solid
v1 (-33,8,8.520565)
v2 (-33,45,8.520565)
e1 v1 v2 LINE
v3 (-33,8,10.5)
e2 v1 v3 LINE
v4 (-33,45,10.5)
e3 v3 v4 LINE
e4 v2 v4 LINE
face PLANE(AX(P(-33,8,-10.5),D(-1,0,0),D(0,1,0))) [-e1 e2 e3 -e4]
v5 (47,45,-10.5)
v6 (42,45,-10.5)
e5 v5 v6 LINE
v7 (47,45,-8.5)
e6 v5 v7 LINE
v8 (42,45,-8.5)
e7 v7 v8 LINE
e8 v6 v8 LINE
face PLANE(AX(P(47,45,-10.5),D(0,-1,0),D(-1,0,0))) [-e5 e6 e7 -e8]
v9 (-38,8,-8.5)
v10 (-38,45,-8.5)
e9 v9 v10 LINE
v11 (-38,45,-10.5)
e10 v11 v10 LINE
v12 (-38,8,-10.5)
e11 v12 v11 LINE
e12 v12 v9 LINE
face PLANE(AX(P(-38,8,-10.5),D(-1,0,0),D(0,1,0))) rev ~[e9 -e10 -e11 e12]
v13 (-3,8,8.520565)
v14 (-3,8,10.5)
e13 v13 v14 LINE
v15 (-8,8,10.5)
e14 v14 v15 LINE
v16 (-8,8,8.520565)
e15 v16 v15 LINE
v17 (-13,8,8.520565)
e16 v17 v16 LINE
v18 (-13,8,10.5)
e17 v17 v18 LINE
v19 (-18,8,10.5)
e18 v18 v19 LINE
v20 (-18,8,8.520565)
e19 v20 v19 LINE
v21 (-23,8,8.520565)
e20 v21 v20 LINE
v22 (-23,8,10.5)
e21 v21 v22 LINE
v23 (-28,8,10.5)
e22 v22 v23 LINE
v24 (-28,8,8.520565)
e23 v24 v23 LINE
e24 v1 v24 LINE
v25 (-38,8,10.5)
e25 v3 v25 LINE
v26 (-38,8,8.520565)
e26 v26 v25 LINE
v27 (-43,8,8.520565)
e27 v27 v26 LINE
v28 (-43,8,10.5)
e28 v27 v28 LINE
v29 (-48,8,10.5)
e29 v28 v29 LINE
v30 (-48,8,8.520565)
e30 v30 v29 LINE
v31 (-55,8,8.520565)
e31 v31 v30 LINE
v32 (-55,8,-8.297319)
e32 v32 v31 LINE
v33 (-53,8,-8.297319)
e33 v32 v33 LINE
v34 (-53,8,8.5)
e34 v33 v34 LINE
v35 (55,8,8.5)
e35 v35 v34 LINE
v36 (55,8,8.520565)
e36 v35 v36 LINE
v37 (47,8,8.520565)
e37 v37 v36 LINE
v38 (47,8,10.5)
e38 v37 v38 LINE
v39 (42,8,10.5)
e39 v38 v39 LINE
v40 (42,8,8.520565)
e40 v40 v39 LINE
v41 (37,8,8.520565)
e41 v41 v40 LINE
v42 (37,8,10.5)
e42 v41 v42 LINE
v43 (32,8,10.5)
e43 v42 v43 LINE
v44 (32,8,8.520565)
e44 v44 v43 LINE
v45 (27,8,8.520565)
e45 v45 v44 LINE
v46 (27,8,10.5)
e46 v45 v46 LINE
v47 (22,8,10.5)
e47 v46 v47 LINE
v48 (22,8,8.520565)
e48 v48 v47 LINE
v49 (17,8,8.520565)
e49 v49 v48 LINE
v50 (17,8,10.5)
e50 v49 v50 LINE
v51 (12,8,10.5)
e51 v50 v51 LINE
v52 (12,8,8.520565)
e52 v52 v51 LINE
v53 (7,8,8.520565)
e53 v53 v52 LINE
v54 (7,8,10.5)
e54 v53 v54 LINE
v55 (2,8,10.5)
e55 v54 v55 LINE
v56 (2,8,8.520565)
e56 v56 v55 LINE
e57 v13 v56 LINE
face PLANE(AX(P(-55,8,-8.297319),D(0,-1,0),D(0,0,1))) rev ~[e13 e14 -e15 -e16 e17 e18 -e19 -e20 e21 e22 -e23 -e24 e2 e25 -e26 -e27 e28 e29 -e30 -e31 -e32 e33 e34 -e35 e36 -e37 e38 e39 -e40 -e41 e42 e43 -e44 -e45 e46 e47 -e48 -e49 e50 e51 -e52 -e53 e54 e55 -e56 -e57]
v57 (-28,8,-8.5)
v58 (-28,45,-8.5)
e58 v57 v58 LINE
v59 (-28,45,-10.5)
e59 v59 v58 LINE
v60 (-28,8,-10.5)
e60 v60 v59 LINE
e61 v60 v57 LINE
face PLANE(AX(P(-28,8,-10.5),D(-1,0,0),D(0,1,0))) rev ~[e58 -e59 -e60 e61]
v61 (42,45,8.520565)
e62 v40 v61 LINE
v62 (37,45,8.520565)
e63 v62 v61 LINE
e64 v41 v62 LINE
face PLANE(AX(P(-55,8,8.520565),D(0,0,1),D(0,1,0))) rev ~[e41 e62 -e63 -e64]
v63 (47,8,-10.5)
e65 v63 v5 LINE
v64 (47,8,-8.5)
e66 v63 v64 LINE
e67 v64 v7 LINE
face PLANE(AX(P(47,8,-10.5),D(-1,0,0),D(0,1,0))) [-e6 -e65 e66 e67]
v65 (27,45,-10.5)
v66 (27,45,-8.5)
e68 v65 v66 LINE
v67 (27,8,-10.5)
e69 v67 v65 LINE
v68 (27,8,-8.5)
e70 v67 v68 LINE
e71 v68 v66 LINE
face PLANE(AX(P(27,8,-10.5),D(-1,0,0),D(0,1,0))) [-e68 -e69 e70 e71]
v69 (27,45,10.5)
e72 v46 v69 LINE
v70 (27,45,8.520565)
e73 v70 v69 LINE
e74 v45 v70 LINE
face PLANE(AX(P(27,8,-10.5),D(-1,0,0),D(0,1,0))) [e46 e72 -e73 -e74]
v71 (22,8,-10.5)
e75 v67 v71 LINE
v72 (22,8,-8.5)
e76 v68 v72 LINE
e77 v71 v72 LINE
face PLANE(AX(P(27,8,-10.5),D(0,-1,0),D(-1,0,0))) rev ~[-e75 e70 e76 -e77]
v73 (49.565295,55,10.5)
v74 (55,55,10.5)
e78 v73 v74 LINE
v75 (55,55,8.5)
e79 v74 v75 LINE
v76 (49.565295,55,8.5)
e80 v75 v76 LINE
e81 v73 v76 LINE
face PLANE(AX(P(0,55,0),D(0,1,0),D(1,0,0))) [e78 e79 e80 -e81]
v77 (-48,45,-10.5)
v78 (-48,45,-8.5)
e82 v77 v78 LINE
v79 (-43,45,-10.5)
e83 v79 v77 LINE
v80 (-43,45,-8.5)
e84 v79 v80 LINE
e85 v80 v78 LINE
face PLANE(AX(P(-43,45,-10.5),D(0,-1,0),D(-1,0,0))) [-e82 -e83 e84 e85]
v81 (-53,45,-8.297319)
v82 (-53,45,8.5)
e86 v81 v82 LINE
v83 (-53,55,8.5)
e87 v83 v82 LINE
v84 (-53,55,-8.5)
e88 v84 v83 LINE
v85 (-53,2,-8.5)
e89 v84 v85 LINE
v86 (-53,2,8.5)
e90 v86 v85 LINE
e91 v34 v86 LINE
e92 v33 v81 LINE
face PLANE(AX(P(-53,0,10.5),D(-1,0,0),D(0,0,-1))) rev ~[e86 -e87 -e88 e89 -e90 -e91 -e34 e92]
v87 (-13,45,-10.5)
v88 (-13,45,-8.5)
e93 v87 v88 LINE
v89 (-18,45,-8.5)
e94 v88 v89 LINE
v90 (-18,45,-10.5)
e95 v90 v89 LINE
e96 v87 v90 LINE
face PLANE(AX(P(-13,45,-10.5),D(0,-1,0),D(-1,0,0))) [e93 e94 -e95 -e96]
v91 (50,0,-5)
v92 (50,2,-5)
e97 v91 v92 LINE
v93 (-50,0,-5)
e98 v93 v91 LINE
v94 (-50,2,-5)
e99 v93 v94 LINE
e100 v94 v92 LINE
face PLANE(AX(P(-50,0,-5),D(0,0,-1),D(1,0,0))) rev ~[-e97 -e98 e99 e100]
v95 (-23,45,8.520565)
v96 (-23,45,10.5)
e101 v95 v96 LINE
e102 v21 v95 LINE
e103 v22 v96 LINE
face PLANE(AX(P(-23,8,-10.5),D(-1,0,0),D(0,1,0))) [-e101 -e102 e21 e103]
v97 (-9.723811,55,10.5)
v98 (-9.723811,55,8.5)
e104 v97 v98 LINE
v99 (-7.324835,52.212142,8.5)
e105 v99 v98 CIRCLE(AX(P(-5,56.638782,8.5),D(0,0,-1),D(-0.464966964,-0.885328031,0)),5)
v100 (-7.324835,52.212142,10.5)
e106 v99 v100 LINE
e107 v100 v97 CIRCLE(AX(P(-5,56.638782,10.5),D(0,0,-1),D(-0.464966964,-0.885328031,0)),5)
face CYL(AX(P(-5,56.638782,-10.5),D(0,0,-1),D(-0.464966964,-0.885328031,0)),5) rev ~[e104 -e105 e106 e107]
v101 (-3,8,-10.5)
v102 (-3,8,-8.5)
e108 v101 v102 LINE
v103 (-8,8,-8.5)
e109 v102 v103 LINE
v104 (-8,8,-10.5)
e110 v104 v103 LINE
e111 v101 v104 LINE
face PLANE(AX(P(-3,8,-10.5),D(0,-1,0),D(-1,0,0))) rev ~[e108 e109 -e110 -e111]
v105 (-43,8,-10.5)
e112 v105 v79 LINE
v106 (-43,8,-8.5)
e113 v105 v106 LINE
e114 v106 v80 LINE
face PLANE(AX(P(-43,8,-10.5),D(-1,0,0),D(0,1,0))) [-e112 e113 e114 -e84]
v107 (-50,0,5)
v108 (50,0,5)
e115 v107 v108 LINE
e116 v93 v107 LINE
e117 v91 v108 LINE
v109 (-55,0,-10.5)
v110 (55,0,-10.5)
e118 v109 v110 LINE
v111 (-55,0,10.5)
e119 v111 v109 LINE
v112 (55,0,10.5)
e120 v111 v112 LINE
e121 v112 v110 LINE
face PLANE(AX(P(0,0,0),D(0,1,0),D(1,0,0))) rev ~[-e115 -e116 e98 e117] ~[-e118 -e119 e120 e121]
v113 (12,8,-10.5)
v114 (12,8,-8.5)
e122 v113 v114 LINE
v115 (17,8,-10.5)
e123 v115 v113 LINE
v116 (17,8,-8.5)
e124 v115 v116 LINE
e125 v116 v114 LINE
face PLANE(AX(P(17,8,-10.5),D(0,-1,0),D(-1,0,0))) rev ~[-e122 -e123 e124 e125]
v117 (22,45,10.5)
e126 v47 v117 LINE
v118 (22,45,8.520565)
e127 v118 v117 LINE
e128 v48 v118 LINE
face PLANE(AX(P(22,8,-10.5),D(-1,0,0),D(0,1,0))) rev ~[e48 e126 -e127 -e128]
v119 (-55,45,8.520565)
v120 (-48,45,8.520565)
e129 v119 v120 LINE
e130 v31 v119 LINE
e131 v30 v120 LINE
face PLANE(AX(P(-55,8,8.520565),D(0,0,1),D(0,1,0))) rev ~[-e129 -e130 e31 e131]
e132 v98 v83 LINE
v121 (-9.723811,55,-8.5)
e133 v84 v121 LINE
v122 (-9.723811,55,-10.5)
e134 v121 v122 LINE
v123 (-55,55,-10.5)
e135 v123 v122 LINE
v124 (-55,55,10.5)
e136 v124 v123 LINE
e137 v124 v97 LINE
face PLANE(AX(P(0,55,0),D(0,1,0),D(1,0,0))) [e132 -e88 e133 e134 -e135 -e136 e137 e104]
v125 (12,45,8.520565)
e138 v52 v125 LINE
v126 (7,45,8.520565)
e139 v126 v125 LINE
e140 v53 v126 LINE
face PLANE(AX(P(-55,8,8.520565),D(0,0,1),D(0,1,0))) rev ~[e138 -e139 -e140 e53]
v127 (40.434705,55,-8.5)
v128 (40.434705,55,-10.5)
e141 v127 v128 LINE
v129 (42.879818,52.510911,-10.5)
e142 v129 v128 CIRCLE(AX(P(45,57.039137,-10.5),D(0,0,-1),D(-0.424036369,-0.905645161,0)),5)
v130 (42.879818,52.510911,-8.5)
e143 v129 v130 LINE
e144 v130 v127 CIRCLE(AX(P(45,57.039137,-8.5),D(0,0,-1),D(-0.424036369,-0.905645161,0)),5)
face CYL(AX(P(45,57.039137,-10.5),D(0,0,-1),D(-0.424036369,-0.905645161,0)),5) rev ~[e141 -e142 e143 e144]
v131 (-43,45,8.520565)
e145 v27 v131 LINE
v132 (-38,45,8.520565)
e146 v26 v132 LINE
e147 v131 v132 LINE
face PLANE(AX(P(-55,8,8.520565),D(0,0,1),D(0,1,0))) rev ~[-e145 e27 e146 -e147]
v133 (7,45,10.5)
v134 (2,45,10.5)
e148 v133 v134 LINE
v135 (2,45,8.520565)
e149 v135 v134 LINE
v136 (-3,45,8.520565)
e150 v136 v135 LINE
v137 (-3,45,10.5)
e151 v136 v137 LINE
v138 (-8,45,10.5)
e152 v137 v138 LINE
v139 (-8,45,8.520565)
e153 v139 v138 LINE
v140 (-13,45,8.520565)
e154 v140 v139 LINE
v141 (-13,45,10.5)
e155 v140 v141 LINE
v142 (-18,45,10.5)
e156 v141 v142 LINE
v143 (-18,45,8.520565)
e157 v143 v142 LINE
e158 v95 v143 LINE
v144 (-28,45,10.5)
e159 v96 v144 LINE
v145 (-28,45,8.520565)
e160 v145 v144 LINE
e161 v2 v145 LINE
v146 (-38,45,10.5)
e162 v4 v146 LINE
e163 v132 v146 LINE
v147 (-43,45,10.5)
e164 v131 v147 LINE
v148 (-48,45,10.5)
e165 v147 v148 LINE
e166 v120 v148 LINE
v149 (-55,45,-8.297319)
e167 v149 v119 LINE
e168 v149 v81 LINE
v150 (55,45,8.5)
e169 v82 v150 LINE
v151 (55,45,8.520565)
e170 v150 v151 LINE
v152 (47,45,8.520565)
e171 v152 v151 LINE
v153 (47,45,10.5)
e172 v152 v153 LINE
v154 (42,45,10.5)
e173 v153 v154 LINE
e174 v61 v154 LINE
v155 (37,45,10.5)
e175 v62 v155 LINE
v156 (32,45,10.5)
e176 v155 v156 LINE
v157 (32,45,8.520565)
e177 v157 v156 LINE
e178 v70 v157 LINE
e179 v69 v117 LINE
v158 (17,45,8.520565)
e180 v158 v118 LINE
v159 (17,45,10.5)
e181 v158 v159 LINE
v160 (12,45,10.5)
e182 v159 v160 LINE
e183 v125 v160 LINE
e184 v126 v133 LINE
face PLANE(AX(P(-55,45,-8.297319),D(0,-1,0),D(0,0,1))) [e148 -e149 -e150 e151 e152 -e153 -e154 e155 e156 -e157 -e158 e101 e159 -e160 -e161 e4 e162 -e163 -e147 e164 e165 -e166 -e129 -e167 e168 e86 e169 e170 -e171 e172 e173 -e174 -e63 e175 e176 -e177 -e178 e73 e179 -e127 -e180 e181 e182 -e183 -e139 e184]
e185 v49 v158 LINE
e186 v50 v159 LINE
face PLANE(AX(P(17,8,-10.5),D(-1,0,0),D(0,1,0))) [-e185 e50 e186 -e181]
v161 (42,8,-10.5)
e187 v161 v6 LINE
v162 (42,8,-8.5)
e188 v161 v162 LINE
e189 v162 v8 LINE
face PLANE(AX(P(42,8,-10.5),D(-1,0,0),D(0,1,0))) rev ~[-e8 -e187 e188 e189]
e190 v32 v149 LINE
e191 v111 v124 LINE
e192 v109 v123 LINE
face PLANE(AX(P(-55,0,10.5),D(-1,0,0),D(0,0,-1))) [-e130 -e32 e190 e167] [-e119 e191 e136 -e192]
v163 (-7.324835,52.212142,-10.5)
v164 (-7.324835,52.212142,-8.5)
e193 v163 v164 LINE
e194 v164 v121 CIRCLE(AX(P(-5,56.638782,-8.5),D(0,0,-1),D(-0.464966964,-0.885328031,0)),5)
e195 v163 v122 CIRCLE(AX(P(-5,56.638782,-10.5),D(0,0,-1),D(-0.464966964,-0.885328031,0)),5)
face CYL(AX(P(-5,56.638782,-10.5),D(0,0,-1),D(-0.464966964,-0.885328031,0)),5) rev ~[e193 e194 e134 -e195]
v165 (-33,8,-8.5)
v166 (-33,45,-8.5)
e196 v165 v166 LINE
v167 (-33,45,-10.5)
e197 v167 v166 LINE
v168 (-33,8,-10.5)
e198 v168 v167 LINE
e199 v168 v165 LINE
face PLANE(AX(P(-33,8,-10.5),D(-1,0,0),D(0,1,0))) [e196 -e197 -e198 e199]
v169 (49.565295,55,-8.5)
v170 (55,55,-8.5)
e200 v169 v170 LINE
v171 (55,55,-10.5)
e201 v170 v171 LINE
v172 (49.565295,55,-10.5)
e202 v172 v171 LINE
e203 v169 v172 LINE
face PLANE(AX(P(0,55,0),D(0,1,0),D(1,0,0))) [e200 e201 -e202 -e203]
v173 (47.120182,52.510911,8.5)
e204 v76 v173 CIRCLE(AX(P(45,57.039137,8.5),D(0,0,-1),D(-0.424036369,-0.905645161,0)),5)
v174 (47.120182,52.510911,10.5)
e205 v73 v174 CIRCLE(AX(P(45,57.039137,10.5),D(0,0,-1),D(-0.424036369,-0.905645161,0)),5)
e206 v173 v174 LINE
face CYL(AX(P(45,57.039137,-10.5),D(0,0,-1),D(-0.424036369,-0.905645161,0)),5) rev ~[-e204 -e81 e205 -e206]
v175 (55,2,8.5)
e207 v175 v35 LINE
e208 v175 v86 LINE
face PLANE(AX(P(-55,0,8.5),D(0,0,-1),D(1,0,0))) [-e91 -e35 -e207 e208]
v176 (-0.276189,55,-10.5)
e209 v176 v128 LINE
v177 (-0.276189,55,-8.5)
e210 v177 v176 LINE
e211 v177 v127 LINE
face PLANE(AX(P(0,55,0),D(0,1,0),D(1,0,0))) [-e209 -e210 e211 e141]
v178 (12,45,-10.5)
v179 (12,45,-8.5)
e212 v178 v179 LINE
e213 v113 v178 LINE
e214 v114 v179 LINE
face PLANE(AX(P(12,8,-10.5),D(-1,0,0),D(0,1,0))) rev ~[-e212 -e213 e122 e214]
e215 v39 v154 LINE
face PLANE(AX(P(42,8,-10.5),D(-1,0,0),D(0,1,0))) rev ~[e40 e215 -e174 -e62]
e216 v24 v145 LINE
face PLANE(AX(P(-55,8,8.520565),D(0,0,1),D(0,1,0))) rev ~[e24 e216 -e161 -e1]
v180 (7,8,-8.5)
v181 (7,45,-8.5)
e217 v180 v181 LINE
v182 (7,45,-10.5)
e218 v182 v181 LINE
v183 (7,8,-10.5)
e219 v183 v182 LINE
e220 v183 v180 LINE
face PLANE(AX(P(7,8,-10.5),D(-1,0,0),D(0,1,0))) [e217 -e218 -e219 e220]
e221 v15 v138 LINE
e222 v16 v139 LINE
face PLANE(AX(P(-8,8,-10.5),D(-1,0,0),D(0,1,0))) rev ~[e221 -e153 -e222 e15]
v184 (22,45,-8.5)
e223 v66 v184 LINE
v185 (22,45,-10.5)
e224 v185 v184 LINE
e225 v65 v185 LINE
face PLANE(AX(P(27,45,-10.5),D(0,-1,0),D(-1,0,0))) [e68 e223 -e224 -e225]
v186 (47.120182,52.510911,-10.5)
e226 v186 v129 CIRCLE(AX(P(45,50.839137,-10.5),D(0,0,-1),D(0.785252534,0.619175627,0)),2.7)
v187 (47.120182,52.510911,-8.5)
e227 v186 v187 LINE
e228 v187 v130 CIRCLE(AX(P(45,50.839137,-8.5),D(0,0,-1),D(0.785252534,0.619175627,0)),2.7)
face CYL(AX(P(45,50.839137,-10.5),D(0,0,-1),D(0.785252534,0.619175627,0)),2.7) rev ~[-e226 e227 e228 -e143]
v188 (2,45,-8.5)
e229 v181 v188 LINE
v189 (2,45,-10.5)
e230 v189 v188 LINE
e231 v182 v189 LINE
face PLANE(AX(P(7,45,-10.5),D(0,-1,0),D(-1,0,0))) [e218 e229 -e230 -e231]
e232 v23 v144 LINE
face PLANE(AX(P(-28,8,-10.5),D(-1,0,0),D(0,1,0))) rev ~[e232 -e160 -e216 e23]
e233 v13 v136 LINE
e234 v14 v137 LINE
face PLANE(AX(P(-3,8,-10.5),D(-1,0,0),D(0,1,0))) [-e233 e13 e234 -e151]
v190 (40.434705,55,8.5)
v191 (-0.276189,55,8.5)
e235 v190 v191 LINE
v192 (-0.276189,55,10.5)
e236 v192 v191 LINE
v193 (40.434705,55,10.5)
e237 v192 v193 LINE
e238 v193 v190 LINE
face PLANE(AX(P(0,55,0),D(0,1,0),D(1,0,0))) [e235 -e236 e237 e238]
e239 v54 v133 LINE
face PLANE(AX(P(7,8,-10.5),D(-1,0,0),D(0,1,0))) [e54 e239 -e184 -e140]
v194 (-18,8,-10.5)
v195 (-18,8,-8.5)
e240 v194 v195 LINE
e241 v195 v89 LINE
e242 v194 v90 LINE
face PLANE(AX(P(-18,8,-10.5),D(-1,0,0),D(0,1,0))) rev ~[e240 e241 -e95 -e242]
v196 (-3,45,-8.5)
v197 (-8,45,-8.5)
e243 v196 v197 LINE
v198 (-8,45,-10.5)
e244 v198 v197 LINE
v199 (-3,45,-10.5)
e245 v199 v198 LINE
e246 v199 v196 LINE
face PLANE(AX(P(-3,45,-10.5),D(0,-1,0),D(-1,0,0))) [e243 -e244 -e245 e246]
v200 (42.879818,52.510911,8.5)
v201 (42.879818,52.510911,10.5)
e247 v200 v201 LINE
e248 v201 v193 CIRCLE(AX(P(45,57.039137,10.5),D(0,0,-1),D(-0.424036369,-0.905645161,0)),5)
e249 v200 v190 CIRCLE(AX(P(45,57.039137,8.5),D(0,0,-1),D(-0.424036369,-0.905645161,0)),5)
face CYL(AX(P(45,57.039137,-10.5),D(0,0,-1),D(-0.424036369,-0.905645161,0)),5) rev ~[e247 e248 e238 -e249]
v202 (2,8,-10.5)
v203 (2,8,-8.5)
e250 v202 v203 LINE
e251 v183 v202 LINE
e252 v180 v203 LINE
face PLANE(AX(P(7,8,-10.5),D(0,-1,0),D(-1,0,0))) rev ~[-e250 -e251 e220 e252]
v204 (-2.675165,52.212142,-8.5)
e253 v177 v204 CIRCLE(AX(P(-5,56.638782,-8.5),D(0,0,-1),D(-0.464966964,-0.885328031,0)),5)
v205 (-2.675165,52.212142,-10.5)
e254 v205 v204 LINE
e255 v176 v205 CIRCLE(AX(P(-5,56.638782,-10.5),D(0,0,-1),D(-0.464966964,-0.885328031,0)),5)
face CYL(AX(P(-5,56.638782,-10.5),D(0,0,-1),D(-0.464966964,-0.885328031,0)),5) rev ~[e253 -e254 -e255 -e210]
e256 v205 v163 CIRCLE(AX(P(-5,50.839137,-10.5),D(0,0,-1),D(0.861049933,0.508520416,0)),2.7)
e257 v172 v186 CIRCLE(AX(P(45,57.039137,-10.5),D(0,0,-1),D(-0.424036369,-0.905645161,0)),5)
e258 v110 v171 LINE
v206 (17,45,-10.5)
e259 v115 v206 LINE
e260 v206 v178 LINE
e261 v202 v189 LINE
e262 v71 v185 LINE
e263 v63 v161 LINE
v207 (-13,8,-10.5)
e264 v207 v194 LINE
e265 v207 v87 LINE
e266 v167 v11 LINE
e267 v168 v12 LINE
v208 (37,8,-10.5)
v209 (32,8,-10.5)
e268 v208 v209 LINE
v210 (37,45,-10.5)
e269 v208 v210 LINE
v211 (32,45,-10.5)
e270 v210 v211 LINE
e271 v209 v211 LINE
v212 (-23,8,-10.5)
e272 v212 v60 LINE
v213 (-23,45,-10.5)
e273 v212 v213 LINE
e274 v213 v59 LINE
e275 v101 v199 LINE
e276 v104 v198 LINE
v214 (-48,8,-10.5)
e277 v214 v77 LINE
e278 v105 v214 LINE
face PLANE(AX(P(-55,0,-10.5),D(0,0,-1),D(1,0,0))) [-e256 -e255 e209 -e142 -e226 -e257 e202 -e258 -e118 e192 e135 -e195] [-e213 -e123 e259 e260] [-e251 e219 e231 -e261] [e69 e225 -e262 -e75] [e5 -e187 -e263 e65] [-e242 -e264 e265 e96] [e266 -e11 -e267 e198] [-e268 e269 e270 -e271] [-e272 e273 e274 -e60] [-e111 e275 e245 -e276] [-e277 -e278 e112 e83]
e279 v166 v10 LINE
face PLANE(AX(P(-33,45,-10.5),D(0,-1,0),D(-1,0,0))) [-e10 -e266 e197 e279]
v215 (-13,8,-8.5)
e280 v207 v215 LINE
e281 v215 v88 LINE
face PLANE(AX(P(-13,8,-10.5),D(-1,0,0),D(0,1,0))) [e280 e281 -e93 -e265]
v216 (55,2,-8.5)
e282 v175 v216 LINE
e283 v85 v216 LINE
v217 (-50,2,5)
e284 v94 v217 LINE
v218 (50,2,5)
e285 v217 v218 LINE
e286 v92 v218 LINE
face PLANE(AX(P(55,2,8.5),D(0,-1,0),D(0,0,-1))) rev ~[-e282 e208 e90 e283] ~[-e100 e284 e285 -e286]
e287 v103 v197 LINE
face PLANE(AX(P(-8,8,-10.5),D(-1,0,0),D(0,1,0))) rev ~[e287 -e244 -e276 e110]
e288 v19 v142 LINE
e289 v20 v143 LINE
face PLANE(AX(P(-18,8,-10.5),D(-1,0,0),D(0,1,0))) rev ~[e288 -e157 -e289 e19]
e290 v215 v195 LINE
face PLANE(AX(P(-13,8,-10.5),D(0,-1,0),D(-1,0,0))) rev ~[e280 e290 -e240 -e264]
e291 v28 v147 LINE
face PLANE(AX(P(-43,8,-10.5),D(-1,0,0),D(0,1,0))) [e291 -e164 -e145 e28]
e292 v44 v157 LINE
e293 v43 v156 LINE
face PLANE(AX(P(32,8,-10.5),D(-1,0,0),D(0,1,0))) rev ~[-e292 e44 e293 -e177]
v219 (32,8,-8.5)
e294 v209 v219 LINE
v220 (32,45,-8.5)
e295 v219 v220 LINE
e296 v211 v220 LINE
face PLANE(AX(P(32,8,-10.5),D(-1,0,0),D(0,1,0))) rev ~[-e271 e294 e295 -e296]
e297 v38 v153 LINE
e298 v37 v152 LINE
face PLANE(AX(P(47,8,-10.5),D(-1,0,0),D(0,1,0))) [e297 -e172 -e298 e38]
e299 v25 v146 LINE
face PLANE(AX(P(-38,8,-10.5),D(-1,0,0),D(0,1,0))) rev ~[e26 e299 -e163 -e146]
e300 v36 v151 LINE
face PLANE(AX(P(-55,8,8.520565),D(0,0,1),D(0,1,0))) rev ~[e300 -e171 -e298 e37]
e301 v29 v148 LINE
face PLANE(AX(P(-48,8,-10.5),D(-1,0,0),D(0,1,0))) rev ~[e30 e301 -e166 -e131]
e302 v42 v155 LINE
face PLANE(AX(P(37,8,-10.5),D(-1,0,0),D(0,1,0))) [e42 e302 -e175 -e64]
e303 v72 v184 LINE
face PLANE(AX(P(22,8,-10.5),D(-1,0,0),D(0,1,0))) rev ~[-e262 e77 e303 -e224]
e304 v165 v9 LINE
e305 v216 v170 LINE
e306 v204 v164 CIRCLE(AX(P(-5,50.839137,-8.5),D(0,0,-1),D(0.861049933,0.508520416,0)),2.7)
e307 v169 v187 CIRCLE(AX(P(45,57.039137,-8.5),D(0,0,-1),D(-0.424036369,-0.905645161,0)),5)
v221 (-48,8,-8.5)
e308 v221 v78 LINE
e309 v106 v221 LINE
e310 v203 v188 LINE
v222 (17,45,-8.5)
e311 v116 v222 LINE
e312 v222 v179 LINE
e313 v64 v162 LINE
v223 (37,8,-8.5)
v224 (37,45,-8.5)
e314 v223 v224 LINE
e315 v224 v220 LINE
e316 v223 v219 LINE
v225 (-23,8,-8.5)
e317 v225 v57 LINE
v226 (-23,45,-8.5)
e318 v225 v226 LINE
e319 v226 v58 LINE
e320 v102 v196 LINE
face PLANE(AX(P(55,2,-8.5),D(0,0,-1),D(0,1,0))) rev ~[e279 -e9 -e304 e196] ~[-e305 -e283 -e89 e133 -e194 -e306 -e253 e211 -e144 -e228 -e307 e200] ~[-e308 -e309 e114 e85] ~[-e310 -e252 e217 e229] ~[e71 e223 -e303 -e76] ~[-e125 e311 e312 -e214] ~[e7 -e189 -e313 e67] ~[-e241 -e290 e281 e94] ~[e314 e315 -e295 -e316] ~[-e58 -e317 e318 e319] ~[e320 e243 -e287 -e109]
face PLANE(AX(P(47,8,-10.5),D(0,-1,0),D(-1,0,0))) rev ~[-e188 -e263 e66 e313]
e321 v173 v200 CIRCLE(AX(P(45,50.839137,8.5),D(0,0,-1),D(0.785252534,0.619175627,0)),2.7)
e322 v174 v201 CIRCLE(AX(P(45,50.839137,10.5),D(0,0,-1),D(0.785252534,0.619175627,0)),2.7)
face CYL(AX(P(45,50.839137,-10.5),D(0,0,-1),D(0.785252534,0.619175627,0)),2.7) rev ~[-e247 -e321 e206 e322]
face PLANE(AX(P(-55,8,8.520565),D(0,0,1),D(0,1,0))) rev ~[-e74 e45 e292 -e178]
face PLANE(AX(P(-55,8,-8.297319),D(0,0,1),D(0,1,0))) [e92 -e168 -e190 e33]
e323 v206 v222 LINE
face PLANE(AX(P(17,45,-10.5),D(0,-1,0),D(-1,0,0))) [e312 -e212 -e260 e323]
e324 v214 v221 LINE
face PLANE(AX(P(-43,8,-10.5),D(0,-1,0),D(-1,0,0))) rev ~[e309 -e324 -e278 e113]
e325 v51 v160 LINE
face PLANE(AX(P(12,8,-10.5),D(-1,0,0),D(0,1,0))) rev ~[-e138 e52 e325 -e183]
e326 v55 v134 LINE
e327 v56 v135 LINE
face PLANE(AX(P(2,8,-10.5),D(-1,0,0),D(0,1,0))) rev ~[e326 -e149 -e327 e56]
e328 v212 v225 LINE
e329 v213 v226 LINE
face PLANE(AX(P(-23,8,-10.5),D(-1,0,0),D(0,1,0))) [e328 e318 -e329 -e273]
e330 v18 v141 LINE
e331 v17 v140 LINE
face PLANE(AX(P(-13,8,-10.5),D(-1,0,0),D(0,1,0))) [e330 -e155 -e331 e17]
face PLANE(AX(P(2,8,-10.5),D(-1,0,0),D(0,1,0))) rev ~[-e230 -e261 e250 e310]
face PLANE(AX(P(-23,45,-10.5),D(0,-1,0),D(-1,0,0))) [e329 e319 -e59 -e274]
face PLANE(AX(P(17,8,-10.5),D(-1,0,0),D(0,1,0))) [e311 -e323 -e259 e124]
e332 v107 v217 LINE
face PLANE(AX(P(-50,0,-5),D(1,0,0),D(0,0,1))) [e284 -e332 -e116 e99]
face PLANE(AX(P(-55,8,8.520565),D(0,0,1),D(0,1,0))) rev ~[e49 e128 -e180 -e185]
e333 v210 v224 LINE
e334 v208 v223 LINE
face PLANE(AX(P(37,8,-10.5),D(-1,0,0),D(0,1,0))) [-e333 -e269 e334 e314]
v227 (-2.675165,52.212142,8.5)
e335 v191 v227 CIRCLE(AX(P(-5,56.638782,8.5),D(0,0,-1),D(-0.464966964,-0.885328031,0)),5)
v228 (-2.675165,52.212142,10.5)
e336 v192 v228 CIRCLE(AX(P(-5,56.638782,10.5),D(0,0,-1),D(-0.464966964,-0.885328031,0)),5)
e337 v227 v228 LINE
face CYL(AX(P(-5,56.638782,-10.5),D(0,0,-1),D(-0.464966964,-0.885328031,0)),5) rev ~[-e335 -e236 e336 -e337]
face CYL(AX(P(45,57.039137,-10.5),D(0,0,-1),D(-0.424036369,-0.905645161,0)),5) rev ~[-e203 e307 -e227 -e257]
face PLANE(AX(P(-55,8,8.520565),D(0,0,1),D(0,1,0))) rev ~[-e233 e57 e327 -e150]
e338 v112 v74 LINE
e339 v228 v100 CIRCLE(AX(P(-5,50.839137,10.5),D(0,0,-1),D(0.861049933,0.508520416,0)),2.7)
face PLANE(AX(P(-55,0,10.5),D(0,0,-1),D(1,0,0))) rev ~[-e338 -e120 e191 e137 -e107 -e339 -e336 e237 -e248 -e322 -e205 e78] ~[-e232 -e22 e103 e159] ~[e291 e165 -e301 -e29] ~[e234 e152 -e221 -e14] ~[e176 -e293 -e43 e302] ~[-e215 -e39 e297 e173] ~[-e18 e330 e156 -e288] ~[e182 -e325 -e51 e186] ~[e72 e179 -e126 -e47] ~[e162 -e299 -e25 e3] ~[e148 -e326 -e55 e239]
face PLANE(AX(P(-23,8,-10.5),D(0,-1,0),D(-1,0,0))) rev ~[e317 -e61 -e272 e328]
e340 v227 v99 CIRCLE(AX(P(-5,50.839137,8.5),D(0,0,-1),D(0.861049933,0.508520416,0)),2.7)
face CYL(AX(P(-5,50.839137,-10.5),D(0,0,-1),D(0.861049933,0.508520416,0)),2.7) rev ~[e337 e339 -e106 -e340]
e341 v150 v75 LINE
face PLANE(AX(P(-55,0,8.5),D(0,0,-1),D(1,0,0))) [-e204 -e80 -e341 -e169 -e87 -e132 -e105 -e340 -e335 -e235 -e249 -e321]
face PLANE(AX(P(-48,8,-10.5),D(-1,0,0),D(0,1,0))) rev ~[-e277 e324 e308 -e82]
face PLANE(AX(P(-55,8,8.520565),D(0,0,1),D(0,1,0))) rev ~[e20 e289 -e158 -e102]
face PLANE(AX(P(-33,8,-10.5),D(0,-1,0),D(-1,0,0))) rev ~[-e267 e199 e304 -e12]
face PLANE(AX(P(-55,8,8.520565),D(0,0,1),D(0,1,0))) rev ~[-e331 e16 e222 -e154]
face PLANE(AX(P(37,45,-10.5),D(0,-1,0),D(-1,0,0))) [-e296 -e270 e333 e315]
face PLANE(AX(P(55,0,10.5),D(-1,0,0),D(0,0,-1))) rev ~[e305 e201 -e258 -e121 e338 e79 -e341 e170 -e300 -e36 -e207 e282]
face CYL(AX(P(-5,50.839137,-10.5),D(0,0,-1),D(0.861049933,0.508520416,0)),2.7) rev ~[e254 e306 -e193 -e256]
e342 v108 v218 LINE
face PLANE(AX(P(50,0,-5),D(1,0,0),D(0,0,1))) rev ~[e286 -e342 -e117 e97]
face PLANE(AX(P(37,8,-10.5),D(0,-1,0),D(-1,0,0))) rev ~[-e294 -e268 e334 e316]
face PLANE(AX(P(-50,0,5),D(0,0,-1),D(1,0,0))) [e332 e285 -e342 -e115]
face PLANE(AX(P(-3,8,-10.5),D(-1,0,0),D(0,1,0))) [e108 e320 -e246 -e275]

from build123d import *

# Parameters (mm, degrees)
SKETCH_1_W           = 110
SKETCH_1_H           = 21
EXTRUDE_1_DEPTH      = 55
SHELL_1_T            = -2
SKETCH_2_W           = 17
SKETCH_2_H           = 53
CUT_EXTRUDE_1_DEPTH  = 50
SKETCH_8_W           = 5
SKETCH_8_H           = 37
CUT_EXTRUDE_8_DEPTH  = 22
SKETCH_9_W           = 16.817883905
SKETCH_9_H           = 37
CUT_EXTRUDE_9_DEPTH  = 111
SKETCH_10_W          = 100
SKETCH_10_H          = 10
CUT_EXTRUDE_10_DEPTH = 56
CUT_EXTRUDE_11_DEPTH = 22


with BuildPart() as part:
    # 草图1 → 凸台-拉伸1 (new body)
    with BuildSketch(Plane(origin=(0, 0, 0), x_dir=(1, 0, 0), z_dir=(0, 1, 0))):
        Rectangle(SKETCH_1_W, SKETCH_1_H)
    extrude(amount=EXTRUDE_1_DEPTH)

    # 抽壳1
    shell_1_openings = [part.faces().sort_by_distance(p)[0] for p in [
        (0, 55, 0),
    ]]
    offset(amount=SHELL_1_T, openings=shell_1_openings, kind=Kind.INTERSECTION)

    # 草图2 → 切除-拉伸1 (cut)
    with BuildSketch(Plane(origin=(55, 0, 0), x_dir=(0, 0, -1), z_dir=(1, 0, 0))):
        with Locations((0, 28.5)):
            Rectangle(SKETCH_2_W, SKETCH_2_H)
    extrude(amount=-CUT_EXTRUDE_1_DEPTH, mode=Mode.SUBTRACT)

    # 草图8 → 切除-拉伸8 (cut, through all)
    with BuildSketch(Plane(origin=(0, 0, -10.5), x_dir=(-1, 0, 0), z_dir=(0, 0, -1))):
        with Locations((-34.5, 26.5)):
            Rectangle(SKETCH_8_W, SKETCH_8_H)
        with Locations((-44.5, 26.5)):
            Rectangle(SKETCH_8_W, SKETCH_8_H)
        with Locations((-24.5, 26.5)):
            Rectangle(SKETCH_8_W, SKETCH_8_H)
        with Locations((-14.5, 26.5)):
            Rectangle(SKETCH_8_W, SKETCH_8_H)
        with Locations((-4.5, 26.5)):
            Rectangle(SKETCH_8_W, SKETCH_8_H)
        with Locations((5.5, 26.5)):
            Rectangle(SKETCH_8_W, SKETCH_8_H)
        with Locations((15.5, 26.5)):
            Rectangle(SKETCH_8_W, SKETCH_8_H)
        with Locations((25.5, 26.5)):
            Rectangle(SKETCH_8_W, SKETCH_8_H)
        with Locations((35.5, 26.5)):
            Rectangle(SKETCH_8_W, SKETCH_8_H)
        with Locations((45.5, 26.5)):
            Rectangle(SKETCH_8_W, SKETCH_8_H)
    extrude(amount=-CUT_EXTRUDE_8_DEPTH, mode=Mode.SUBTRACT)

    # 草图9 → 切除-拉伸9 (cut, through all)
    with BuildSketch(Plane.ZY.offset(55)):
        with Locations((0.111623124, 26.5)):
            Rectangle(SKETCH_9_W, SKETCH_9_H)
    extrude(amount=-CUT_EXTRUDE_9_DEPTH, mode=Mode.SUBTRACT)

    # 草图10 → 切除-拉伸10 (cut, through all)
    with BuildSketch(Plane.XZ):
        Rectangle(SKETCH_10_W, SKETCH_10_H)
    extrude(amount=-CUT_EXTRUDE_10_DEPTH, mode=Mode.SUBTRACT)

    # 草图5 → 切除-拉伸11 (cut, through all)
    with BuildSketch(Plane(origin=(0, 0, -10.5), x_dir=(-1, 0, 0), z_dir=(0, 0, -1))):
        with BuildLine():
            ThreePointArc((-47.120181843, 52.510910871), (-45, 48.139136677), (-42.879818157, 52.510910871))
            ThreePointArc((-42.879818157, 52.510910871), (-45, 62.039136677), (-47.120181843, 52.510910871))
        make_face()
        with BuildLine():
            ThreePointArc((2.675165182, 52.212141801), (5, 48.139136677), (7.324834818, 52.212141801))
            ThreePointArc((7.324834818, 52.212141801), (5, 61.638781957), (2.675165182, 52.212141801))
        make_face()
    extrude(amount=-CUT_EXTRUDE_11_DEPTH, mode=Mode.SUBTRACT)


solid = part.part
